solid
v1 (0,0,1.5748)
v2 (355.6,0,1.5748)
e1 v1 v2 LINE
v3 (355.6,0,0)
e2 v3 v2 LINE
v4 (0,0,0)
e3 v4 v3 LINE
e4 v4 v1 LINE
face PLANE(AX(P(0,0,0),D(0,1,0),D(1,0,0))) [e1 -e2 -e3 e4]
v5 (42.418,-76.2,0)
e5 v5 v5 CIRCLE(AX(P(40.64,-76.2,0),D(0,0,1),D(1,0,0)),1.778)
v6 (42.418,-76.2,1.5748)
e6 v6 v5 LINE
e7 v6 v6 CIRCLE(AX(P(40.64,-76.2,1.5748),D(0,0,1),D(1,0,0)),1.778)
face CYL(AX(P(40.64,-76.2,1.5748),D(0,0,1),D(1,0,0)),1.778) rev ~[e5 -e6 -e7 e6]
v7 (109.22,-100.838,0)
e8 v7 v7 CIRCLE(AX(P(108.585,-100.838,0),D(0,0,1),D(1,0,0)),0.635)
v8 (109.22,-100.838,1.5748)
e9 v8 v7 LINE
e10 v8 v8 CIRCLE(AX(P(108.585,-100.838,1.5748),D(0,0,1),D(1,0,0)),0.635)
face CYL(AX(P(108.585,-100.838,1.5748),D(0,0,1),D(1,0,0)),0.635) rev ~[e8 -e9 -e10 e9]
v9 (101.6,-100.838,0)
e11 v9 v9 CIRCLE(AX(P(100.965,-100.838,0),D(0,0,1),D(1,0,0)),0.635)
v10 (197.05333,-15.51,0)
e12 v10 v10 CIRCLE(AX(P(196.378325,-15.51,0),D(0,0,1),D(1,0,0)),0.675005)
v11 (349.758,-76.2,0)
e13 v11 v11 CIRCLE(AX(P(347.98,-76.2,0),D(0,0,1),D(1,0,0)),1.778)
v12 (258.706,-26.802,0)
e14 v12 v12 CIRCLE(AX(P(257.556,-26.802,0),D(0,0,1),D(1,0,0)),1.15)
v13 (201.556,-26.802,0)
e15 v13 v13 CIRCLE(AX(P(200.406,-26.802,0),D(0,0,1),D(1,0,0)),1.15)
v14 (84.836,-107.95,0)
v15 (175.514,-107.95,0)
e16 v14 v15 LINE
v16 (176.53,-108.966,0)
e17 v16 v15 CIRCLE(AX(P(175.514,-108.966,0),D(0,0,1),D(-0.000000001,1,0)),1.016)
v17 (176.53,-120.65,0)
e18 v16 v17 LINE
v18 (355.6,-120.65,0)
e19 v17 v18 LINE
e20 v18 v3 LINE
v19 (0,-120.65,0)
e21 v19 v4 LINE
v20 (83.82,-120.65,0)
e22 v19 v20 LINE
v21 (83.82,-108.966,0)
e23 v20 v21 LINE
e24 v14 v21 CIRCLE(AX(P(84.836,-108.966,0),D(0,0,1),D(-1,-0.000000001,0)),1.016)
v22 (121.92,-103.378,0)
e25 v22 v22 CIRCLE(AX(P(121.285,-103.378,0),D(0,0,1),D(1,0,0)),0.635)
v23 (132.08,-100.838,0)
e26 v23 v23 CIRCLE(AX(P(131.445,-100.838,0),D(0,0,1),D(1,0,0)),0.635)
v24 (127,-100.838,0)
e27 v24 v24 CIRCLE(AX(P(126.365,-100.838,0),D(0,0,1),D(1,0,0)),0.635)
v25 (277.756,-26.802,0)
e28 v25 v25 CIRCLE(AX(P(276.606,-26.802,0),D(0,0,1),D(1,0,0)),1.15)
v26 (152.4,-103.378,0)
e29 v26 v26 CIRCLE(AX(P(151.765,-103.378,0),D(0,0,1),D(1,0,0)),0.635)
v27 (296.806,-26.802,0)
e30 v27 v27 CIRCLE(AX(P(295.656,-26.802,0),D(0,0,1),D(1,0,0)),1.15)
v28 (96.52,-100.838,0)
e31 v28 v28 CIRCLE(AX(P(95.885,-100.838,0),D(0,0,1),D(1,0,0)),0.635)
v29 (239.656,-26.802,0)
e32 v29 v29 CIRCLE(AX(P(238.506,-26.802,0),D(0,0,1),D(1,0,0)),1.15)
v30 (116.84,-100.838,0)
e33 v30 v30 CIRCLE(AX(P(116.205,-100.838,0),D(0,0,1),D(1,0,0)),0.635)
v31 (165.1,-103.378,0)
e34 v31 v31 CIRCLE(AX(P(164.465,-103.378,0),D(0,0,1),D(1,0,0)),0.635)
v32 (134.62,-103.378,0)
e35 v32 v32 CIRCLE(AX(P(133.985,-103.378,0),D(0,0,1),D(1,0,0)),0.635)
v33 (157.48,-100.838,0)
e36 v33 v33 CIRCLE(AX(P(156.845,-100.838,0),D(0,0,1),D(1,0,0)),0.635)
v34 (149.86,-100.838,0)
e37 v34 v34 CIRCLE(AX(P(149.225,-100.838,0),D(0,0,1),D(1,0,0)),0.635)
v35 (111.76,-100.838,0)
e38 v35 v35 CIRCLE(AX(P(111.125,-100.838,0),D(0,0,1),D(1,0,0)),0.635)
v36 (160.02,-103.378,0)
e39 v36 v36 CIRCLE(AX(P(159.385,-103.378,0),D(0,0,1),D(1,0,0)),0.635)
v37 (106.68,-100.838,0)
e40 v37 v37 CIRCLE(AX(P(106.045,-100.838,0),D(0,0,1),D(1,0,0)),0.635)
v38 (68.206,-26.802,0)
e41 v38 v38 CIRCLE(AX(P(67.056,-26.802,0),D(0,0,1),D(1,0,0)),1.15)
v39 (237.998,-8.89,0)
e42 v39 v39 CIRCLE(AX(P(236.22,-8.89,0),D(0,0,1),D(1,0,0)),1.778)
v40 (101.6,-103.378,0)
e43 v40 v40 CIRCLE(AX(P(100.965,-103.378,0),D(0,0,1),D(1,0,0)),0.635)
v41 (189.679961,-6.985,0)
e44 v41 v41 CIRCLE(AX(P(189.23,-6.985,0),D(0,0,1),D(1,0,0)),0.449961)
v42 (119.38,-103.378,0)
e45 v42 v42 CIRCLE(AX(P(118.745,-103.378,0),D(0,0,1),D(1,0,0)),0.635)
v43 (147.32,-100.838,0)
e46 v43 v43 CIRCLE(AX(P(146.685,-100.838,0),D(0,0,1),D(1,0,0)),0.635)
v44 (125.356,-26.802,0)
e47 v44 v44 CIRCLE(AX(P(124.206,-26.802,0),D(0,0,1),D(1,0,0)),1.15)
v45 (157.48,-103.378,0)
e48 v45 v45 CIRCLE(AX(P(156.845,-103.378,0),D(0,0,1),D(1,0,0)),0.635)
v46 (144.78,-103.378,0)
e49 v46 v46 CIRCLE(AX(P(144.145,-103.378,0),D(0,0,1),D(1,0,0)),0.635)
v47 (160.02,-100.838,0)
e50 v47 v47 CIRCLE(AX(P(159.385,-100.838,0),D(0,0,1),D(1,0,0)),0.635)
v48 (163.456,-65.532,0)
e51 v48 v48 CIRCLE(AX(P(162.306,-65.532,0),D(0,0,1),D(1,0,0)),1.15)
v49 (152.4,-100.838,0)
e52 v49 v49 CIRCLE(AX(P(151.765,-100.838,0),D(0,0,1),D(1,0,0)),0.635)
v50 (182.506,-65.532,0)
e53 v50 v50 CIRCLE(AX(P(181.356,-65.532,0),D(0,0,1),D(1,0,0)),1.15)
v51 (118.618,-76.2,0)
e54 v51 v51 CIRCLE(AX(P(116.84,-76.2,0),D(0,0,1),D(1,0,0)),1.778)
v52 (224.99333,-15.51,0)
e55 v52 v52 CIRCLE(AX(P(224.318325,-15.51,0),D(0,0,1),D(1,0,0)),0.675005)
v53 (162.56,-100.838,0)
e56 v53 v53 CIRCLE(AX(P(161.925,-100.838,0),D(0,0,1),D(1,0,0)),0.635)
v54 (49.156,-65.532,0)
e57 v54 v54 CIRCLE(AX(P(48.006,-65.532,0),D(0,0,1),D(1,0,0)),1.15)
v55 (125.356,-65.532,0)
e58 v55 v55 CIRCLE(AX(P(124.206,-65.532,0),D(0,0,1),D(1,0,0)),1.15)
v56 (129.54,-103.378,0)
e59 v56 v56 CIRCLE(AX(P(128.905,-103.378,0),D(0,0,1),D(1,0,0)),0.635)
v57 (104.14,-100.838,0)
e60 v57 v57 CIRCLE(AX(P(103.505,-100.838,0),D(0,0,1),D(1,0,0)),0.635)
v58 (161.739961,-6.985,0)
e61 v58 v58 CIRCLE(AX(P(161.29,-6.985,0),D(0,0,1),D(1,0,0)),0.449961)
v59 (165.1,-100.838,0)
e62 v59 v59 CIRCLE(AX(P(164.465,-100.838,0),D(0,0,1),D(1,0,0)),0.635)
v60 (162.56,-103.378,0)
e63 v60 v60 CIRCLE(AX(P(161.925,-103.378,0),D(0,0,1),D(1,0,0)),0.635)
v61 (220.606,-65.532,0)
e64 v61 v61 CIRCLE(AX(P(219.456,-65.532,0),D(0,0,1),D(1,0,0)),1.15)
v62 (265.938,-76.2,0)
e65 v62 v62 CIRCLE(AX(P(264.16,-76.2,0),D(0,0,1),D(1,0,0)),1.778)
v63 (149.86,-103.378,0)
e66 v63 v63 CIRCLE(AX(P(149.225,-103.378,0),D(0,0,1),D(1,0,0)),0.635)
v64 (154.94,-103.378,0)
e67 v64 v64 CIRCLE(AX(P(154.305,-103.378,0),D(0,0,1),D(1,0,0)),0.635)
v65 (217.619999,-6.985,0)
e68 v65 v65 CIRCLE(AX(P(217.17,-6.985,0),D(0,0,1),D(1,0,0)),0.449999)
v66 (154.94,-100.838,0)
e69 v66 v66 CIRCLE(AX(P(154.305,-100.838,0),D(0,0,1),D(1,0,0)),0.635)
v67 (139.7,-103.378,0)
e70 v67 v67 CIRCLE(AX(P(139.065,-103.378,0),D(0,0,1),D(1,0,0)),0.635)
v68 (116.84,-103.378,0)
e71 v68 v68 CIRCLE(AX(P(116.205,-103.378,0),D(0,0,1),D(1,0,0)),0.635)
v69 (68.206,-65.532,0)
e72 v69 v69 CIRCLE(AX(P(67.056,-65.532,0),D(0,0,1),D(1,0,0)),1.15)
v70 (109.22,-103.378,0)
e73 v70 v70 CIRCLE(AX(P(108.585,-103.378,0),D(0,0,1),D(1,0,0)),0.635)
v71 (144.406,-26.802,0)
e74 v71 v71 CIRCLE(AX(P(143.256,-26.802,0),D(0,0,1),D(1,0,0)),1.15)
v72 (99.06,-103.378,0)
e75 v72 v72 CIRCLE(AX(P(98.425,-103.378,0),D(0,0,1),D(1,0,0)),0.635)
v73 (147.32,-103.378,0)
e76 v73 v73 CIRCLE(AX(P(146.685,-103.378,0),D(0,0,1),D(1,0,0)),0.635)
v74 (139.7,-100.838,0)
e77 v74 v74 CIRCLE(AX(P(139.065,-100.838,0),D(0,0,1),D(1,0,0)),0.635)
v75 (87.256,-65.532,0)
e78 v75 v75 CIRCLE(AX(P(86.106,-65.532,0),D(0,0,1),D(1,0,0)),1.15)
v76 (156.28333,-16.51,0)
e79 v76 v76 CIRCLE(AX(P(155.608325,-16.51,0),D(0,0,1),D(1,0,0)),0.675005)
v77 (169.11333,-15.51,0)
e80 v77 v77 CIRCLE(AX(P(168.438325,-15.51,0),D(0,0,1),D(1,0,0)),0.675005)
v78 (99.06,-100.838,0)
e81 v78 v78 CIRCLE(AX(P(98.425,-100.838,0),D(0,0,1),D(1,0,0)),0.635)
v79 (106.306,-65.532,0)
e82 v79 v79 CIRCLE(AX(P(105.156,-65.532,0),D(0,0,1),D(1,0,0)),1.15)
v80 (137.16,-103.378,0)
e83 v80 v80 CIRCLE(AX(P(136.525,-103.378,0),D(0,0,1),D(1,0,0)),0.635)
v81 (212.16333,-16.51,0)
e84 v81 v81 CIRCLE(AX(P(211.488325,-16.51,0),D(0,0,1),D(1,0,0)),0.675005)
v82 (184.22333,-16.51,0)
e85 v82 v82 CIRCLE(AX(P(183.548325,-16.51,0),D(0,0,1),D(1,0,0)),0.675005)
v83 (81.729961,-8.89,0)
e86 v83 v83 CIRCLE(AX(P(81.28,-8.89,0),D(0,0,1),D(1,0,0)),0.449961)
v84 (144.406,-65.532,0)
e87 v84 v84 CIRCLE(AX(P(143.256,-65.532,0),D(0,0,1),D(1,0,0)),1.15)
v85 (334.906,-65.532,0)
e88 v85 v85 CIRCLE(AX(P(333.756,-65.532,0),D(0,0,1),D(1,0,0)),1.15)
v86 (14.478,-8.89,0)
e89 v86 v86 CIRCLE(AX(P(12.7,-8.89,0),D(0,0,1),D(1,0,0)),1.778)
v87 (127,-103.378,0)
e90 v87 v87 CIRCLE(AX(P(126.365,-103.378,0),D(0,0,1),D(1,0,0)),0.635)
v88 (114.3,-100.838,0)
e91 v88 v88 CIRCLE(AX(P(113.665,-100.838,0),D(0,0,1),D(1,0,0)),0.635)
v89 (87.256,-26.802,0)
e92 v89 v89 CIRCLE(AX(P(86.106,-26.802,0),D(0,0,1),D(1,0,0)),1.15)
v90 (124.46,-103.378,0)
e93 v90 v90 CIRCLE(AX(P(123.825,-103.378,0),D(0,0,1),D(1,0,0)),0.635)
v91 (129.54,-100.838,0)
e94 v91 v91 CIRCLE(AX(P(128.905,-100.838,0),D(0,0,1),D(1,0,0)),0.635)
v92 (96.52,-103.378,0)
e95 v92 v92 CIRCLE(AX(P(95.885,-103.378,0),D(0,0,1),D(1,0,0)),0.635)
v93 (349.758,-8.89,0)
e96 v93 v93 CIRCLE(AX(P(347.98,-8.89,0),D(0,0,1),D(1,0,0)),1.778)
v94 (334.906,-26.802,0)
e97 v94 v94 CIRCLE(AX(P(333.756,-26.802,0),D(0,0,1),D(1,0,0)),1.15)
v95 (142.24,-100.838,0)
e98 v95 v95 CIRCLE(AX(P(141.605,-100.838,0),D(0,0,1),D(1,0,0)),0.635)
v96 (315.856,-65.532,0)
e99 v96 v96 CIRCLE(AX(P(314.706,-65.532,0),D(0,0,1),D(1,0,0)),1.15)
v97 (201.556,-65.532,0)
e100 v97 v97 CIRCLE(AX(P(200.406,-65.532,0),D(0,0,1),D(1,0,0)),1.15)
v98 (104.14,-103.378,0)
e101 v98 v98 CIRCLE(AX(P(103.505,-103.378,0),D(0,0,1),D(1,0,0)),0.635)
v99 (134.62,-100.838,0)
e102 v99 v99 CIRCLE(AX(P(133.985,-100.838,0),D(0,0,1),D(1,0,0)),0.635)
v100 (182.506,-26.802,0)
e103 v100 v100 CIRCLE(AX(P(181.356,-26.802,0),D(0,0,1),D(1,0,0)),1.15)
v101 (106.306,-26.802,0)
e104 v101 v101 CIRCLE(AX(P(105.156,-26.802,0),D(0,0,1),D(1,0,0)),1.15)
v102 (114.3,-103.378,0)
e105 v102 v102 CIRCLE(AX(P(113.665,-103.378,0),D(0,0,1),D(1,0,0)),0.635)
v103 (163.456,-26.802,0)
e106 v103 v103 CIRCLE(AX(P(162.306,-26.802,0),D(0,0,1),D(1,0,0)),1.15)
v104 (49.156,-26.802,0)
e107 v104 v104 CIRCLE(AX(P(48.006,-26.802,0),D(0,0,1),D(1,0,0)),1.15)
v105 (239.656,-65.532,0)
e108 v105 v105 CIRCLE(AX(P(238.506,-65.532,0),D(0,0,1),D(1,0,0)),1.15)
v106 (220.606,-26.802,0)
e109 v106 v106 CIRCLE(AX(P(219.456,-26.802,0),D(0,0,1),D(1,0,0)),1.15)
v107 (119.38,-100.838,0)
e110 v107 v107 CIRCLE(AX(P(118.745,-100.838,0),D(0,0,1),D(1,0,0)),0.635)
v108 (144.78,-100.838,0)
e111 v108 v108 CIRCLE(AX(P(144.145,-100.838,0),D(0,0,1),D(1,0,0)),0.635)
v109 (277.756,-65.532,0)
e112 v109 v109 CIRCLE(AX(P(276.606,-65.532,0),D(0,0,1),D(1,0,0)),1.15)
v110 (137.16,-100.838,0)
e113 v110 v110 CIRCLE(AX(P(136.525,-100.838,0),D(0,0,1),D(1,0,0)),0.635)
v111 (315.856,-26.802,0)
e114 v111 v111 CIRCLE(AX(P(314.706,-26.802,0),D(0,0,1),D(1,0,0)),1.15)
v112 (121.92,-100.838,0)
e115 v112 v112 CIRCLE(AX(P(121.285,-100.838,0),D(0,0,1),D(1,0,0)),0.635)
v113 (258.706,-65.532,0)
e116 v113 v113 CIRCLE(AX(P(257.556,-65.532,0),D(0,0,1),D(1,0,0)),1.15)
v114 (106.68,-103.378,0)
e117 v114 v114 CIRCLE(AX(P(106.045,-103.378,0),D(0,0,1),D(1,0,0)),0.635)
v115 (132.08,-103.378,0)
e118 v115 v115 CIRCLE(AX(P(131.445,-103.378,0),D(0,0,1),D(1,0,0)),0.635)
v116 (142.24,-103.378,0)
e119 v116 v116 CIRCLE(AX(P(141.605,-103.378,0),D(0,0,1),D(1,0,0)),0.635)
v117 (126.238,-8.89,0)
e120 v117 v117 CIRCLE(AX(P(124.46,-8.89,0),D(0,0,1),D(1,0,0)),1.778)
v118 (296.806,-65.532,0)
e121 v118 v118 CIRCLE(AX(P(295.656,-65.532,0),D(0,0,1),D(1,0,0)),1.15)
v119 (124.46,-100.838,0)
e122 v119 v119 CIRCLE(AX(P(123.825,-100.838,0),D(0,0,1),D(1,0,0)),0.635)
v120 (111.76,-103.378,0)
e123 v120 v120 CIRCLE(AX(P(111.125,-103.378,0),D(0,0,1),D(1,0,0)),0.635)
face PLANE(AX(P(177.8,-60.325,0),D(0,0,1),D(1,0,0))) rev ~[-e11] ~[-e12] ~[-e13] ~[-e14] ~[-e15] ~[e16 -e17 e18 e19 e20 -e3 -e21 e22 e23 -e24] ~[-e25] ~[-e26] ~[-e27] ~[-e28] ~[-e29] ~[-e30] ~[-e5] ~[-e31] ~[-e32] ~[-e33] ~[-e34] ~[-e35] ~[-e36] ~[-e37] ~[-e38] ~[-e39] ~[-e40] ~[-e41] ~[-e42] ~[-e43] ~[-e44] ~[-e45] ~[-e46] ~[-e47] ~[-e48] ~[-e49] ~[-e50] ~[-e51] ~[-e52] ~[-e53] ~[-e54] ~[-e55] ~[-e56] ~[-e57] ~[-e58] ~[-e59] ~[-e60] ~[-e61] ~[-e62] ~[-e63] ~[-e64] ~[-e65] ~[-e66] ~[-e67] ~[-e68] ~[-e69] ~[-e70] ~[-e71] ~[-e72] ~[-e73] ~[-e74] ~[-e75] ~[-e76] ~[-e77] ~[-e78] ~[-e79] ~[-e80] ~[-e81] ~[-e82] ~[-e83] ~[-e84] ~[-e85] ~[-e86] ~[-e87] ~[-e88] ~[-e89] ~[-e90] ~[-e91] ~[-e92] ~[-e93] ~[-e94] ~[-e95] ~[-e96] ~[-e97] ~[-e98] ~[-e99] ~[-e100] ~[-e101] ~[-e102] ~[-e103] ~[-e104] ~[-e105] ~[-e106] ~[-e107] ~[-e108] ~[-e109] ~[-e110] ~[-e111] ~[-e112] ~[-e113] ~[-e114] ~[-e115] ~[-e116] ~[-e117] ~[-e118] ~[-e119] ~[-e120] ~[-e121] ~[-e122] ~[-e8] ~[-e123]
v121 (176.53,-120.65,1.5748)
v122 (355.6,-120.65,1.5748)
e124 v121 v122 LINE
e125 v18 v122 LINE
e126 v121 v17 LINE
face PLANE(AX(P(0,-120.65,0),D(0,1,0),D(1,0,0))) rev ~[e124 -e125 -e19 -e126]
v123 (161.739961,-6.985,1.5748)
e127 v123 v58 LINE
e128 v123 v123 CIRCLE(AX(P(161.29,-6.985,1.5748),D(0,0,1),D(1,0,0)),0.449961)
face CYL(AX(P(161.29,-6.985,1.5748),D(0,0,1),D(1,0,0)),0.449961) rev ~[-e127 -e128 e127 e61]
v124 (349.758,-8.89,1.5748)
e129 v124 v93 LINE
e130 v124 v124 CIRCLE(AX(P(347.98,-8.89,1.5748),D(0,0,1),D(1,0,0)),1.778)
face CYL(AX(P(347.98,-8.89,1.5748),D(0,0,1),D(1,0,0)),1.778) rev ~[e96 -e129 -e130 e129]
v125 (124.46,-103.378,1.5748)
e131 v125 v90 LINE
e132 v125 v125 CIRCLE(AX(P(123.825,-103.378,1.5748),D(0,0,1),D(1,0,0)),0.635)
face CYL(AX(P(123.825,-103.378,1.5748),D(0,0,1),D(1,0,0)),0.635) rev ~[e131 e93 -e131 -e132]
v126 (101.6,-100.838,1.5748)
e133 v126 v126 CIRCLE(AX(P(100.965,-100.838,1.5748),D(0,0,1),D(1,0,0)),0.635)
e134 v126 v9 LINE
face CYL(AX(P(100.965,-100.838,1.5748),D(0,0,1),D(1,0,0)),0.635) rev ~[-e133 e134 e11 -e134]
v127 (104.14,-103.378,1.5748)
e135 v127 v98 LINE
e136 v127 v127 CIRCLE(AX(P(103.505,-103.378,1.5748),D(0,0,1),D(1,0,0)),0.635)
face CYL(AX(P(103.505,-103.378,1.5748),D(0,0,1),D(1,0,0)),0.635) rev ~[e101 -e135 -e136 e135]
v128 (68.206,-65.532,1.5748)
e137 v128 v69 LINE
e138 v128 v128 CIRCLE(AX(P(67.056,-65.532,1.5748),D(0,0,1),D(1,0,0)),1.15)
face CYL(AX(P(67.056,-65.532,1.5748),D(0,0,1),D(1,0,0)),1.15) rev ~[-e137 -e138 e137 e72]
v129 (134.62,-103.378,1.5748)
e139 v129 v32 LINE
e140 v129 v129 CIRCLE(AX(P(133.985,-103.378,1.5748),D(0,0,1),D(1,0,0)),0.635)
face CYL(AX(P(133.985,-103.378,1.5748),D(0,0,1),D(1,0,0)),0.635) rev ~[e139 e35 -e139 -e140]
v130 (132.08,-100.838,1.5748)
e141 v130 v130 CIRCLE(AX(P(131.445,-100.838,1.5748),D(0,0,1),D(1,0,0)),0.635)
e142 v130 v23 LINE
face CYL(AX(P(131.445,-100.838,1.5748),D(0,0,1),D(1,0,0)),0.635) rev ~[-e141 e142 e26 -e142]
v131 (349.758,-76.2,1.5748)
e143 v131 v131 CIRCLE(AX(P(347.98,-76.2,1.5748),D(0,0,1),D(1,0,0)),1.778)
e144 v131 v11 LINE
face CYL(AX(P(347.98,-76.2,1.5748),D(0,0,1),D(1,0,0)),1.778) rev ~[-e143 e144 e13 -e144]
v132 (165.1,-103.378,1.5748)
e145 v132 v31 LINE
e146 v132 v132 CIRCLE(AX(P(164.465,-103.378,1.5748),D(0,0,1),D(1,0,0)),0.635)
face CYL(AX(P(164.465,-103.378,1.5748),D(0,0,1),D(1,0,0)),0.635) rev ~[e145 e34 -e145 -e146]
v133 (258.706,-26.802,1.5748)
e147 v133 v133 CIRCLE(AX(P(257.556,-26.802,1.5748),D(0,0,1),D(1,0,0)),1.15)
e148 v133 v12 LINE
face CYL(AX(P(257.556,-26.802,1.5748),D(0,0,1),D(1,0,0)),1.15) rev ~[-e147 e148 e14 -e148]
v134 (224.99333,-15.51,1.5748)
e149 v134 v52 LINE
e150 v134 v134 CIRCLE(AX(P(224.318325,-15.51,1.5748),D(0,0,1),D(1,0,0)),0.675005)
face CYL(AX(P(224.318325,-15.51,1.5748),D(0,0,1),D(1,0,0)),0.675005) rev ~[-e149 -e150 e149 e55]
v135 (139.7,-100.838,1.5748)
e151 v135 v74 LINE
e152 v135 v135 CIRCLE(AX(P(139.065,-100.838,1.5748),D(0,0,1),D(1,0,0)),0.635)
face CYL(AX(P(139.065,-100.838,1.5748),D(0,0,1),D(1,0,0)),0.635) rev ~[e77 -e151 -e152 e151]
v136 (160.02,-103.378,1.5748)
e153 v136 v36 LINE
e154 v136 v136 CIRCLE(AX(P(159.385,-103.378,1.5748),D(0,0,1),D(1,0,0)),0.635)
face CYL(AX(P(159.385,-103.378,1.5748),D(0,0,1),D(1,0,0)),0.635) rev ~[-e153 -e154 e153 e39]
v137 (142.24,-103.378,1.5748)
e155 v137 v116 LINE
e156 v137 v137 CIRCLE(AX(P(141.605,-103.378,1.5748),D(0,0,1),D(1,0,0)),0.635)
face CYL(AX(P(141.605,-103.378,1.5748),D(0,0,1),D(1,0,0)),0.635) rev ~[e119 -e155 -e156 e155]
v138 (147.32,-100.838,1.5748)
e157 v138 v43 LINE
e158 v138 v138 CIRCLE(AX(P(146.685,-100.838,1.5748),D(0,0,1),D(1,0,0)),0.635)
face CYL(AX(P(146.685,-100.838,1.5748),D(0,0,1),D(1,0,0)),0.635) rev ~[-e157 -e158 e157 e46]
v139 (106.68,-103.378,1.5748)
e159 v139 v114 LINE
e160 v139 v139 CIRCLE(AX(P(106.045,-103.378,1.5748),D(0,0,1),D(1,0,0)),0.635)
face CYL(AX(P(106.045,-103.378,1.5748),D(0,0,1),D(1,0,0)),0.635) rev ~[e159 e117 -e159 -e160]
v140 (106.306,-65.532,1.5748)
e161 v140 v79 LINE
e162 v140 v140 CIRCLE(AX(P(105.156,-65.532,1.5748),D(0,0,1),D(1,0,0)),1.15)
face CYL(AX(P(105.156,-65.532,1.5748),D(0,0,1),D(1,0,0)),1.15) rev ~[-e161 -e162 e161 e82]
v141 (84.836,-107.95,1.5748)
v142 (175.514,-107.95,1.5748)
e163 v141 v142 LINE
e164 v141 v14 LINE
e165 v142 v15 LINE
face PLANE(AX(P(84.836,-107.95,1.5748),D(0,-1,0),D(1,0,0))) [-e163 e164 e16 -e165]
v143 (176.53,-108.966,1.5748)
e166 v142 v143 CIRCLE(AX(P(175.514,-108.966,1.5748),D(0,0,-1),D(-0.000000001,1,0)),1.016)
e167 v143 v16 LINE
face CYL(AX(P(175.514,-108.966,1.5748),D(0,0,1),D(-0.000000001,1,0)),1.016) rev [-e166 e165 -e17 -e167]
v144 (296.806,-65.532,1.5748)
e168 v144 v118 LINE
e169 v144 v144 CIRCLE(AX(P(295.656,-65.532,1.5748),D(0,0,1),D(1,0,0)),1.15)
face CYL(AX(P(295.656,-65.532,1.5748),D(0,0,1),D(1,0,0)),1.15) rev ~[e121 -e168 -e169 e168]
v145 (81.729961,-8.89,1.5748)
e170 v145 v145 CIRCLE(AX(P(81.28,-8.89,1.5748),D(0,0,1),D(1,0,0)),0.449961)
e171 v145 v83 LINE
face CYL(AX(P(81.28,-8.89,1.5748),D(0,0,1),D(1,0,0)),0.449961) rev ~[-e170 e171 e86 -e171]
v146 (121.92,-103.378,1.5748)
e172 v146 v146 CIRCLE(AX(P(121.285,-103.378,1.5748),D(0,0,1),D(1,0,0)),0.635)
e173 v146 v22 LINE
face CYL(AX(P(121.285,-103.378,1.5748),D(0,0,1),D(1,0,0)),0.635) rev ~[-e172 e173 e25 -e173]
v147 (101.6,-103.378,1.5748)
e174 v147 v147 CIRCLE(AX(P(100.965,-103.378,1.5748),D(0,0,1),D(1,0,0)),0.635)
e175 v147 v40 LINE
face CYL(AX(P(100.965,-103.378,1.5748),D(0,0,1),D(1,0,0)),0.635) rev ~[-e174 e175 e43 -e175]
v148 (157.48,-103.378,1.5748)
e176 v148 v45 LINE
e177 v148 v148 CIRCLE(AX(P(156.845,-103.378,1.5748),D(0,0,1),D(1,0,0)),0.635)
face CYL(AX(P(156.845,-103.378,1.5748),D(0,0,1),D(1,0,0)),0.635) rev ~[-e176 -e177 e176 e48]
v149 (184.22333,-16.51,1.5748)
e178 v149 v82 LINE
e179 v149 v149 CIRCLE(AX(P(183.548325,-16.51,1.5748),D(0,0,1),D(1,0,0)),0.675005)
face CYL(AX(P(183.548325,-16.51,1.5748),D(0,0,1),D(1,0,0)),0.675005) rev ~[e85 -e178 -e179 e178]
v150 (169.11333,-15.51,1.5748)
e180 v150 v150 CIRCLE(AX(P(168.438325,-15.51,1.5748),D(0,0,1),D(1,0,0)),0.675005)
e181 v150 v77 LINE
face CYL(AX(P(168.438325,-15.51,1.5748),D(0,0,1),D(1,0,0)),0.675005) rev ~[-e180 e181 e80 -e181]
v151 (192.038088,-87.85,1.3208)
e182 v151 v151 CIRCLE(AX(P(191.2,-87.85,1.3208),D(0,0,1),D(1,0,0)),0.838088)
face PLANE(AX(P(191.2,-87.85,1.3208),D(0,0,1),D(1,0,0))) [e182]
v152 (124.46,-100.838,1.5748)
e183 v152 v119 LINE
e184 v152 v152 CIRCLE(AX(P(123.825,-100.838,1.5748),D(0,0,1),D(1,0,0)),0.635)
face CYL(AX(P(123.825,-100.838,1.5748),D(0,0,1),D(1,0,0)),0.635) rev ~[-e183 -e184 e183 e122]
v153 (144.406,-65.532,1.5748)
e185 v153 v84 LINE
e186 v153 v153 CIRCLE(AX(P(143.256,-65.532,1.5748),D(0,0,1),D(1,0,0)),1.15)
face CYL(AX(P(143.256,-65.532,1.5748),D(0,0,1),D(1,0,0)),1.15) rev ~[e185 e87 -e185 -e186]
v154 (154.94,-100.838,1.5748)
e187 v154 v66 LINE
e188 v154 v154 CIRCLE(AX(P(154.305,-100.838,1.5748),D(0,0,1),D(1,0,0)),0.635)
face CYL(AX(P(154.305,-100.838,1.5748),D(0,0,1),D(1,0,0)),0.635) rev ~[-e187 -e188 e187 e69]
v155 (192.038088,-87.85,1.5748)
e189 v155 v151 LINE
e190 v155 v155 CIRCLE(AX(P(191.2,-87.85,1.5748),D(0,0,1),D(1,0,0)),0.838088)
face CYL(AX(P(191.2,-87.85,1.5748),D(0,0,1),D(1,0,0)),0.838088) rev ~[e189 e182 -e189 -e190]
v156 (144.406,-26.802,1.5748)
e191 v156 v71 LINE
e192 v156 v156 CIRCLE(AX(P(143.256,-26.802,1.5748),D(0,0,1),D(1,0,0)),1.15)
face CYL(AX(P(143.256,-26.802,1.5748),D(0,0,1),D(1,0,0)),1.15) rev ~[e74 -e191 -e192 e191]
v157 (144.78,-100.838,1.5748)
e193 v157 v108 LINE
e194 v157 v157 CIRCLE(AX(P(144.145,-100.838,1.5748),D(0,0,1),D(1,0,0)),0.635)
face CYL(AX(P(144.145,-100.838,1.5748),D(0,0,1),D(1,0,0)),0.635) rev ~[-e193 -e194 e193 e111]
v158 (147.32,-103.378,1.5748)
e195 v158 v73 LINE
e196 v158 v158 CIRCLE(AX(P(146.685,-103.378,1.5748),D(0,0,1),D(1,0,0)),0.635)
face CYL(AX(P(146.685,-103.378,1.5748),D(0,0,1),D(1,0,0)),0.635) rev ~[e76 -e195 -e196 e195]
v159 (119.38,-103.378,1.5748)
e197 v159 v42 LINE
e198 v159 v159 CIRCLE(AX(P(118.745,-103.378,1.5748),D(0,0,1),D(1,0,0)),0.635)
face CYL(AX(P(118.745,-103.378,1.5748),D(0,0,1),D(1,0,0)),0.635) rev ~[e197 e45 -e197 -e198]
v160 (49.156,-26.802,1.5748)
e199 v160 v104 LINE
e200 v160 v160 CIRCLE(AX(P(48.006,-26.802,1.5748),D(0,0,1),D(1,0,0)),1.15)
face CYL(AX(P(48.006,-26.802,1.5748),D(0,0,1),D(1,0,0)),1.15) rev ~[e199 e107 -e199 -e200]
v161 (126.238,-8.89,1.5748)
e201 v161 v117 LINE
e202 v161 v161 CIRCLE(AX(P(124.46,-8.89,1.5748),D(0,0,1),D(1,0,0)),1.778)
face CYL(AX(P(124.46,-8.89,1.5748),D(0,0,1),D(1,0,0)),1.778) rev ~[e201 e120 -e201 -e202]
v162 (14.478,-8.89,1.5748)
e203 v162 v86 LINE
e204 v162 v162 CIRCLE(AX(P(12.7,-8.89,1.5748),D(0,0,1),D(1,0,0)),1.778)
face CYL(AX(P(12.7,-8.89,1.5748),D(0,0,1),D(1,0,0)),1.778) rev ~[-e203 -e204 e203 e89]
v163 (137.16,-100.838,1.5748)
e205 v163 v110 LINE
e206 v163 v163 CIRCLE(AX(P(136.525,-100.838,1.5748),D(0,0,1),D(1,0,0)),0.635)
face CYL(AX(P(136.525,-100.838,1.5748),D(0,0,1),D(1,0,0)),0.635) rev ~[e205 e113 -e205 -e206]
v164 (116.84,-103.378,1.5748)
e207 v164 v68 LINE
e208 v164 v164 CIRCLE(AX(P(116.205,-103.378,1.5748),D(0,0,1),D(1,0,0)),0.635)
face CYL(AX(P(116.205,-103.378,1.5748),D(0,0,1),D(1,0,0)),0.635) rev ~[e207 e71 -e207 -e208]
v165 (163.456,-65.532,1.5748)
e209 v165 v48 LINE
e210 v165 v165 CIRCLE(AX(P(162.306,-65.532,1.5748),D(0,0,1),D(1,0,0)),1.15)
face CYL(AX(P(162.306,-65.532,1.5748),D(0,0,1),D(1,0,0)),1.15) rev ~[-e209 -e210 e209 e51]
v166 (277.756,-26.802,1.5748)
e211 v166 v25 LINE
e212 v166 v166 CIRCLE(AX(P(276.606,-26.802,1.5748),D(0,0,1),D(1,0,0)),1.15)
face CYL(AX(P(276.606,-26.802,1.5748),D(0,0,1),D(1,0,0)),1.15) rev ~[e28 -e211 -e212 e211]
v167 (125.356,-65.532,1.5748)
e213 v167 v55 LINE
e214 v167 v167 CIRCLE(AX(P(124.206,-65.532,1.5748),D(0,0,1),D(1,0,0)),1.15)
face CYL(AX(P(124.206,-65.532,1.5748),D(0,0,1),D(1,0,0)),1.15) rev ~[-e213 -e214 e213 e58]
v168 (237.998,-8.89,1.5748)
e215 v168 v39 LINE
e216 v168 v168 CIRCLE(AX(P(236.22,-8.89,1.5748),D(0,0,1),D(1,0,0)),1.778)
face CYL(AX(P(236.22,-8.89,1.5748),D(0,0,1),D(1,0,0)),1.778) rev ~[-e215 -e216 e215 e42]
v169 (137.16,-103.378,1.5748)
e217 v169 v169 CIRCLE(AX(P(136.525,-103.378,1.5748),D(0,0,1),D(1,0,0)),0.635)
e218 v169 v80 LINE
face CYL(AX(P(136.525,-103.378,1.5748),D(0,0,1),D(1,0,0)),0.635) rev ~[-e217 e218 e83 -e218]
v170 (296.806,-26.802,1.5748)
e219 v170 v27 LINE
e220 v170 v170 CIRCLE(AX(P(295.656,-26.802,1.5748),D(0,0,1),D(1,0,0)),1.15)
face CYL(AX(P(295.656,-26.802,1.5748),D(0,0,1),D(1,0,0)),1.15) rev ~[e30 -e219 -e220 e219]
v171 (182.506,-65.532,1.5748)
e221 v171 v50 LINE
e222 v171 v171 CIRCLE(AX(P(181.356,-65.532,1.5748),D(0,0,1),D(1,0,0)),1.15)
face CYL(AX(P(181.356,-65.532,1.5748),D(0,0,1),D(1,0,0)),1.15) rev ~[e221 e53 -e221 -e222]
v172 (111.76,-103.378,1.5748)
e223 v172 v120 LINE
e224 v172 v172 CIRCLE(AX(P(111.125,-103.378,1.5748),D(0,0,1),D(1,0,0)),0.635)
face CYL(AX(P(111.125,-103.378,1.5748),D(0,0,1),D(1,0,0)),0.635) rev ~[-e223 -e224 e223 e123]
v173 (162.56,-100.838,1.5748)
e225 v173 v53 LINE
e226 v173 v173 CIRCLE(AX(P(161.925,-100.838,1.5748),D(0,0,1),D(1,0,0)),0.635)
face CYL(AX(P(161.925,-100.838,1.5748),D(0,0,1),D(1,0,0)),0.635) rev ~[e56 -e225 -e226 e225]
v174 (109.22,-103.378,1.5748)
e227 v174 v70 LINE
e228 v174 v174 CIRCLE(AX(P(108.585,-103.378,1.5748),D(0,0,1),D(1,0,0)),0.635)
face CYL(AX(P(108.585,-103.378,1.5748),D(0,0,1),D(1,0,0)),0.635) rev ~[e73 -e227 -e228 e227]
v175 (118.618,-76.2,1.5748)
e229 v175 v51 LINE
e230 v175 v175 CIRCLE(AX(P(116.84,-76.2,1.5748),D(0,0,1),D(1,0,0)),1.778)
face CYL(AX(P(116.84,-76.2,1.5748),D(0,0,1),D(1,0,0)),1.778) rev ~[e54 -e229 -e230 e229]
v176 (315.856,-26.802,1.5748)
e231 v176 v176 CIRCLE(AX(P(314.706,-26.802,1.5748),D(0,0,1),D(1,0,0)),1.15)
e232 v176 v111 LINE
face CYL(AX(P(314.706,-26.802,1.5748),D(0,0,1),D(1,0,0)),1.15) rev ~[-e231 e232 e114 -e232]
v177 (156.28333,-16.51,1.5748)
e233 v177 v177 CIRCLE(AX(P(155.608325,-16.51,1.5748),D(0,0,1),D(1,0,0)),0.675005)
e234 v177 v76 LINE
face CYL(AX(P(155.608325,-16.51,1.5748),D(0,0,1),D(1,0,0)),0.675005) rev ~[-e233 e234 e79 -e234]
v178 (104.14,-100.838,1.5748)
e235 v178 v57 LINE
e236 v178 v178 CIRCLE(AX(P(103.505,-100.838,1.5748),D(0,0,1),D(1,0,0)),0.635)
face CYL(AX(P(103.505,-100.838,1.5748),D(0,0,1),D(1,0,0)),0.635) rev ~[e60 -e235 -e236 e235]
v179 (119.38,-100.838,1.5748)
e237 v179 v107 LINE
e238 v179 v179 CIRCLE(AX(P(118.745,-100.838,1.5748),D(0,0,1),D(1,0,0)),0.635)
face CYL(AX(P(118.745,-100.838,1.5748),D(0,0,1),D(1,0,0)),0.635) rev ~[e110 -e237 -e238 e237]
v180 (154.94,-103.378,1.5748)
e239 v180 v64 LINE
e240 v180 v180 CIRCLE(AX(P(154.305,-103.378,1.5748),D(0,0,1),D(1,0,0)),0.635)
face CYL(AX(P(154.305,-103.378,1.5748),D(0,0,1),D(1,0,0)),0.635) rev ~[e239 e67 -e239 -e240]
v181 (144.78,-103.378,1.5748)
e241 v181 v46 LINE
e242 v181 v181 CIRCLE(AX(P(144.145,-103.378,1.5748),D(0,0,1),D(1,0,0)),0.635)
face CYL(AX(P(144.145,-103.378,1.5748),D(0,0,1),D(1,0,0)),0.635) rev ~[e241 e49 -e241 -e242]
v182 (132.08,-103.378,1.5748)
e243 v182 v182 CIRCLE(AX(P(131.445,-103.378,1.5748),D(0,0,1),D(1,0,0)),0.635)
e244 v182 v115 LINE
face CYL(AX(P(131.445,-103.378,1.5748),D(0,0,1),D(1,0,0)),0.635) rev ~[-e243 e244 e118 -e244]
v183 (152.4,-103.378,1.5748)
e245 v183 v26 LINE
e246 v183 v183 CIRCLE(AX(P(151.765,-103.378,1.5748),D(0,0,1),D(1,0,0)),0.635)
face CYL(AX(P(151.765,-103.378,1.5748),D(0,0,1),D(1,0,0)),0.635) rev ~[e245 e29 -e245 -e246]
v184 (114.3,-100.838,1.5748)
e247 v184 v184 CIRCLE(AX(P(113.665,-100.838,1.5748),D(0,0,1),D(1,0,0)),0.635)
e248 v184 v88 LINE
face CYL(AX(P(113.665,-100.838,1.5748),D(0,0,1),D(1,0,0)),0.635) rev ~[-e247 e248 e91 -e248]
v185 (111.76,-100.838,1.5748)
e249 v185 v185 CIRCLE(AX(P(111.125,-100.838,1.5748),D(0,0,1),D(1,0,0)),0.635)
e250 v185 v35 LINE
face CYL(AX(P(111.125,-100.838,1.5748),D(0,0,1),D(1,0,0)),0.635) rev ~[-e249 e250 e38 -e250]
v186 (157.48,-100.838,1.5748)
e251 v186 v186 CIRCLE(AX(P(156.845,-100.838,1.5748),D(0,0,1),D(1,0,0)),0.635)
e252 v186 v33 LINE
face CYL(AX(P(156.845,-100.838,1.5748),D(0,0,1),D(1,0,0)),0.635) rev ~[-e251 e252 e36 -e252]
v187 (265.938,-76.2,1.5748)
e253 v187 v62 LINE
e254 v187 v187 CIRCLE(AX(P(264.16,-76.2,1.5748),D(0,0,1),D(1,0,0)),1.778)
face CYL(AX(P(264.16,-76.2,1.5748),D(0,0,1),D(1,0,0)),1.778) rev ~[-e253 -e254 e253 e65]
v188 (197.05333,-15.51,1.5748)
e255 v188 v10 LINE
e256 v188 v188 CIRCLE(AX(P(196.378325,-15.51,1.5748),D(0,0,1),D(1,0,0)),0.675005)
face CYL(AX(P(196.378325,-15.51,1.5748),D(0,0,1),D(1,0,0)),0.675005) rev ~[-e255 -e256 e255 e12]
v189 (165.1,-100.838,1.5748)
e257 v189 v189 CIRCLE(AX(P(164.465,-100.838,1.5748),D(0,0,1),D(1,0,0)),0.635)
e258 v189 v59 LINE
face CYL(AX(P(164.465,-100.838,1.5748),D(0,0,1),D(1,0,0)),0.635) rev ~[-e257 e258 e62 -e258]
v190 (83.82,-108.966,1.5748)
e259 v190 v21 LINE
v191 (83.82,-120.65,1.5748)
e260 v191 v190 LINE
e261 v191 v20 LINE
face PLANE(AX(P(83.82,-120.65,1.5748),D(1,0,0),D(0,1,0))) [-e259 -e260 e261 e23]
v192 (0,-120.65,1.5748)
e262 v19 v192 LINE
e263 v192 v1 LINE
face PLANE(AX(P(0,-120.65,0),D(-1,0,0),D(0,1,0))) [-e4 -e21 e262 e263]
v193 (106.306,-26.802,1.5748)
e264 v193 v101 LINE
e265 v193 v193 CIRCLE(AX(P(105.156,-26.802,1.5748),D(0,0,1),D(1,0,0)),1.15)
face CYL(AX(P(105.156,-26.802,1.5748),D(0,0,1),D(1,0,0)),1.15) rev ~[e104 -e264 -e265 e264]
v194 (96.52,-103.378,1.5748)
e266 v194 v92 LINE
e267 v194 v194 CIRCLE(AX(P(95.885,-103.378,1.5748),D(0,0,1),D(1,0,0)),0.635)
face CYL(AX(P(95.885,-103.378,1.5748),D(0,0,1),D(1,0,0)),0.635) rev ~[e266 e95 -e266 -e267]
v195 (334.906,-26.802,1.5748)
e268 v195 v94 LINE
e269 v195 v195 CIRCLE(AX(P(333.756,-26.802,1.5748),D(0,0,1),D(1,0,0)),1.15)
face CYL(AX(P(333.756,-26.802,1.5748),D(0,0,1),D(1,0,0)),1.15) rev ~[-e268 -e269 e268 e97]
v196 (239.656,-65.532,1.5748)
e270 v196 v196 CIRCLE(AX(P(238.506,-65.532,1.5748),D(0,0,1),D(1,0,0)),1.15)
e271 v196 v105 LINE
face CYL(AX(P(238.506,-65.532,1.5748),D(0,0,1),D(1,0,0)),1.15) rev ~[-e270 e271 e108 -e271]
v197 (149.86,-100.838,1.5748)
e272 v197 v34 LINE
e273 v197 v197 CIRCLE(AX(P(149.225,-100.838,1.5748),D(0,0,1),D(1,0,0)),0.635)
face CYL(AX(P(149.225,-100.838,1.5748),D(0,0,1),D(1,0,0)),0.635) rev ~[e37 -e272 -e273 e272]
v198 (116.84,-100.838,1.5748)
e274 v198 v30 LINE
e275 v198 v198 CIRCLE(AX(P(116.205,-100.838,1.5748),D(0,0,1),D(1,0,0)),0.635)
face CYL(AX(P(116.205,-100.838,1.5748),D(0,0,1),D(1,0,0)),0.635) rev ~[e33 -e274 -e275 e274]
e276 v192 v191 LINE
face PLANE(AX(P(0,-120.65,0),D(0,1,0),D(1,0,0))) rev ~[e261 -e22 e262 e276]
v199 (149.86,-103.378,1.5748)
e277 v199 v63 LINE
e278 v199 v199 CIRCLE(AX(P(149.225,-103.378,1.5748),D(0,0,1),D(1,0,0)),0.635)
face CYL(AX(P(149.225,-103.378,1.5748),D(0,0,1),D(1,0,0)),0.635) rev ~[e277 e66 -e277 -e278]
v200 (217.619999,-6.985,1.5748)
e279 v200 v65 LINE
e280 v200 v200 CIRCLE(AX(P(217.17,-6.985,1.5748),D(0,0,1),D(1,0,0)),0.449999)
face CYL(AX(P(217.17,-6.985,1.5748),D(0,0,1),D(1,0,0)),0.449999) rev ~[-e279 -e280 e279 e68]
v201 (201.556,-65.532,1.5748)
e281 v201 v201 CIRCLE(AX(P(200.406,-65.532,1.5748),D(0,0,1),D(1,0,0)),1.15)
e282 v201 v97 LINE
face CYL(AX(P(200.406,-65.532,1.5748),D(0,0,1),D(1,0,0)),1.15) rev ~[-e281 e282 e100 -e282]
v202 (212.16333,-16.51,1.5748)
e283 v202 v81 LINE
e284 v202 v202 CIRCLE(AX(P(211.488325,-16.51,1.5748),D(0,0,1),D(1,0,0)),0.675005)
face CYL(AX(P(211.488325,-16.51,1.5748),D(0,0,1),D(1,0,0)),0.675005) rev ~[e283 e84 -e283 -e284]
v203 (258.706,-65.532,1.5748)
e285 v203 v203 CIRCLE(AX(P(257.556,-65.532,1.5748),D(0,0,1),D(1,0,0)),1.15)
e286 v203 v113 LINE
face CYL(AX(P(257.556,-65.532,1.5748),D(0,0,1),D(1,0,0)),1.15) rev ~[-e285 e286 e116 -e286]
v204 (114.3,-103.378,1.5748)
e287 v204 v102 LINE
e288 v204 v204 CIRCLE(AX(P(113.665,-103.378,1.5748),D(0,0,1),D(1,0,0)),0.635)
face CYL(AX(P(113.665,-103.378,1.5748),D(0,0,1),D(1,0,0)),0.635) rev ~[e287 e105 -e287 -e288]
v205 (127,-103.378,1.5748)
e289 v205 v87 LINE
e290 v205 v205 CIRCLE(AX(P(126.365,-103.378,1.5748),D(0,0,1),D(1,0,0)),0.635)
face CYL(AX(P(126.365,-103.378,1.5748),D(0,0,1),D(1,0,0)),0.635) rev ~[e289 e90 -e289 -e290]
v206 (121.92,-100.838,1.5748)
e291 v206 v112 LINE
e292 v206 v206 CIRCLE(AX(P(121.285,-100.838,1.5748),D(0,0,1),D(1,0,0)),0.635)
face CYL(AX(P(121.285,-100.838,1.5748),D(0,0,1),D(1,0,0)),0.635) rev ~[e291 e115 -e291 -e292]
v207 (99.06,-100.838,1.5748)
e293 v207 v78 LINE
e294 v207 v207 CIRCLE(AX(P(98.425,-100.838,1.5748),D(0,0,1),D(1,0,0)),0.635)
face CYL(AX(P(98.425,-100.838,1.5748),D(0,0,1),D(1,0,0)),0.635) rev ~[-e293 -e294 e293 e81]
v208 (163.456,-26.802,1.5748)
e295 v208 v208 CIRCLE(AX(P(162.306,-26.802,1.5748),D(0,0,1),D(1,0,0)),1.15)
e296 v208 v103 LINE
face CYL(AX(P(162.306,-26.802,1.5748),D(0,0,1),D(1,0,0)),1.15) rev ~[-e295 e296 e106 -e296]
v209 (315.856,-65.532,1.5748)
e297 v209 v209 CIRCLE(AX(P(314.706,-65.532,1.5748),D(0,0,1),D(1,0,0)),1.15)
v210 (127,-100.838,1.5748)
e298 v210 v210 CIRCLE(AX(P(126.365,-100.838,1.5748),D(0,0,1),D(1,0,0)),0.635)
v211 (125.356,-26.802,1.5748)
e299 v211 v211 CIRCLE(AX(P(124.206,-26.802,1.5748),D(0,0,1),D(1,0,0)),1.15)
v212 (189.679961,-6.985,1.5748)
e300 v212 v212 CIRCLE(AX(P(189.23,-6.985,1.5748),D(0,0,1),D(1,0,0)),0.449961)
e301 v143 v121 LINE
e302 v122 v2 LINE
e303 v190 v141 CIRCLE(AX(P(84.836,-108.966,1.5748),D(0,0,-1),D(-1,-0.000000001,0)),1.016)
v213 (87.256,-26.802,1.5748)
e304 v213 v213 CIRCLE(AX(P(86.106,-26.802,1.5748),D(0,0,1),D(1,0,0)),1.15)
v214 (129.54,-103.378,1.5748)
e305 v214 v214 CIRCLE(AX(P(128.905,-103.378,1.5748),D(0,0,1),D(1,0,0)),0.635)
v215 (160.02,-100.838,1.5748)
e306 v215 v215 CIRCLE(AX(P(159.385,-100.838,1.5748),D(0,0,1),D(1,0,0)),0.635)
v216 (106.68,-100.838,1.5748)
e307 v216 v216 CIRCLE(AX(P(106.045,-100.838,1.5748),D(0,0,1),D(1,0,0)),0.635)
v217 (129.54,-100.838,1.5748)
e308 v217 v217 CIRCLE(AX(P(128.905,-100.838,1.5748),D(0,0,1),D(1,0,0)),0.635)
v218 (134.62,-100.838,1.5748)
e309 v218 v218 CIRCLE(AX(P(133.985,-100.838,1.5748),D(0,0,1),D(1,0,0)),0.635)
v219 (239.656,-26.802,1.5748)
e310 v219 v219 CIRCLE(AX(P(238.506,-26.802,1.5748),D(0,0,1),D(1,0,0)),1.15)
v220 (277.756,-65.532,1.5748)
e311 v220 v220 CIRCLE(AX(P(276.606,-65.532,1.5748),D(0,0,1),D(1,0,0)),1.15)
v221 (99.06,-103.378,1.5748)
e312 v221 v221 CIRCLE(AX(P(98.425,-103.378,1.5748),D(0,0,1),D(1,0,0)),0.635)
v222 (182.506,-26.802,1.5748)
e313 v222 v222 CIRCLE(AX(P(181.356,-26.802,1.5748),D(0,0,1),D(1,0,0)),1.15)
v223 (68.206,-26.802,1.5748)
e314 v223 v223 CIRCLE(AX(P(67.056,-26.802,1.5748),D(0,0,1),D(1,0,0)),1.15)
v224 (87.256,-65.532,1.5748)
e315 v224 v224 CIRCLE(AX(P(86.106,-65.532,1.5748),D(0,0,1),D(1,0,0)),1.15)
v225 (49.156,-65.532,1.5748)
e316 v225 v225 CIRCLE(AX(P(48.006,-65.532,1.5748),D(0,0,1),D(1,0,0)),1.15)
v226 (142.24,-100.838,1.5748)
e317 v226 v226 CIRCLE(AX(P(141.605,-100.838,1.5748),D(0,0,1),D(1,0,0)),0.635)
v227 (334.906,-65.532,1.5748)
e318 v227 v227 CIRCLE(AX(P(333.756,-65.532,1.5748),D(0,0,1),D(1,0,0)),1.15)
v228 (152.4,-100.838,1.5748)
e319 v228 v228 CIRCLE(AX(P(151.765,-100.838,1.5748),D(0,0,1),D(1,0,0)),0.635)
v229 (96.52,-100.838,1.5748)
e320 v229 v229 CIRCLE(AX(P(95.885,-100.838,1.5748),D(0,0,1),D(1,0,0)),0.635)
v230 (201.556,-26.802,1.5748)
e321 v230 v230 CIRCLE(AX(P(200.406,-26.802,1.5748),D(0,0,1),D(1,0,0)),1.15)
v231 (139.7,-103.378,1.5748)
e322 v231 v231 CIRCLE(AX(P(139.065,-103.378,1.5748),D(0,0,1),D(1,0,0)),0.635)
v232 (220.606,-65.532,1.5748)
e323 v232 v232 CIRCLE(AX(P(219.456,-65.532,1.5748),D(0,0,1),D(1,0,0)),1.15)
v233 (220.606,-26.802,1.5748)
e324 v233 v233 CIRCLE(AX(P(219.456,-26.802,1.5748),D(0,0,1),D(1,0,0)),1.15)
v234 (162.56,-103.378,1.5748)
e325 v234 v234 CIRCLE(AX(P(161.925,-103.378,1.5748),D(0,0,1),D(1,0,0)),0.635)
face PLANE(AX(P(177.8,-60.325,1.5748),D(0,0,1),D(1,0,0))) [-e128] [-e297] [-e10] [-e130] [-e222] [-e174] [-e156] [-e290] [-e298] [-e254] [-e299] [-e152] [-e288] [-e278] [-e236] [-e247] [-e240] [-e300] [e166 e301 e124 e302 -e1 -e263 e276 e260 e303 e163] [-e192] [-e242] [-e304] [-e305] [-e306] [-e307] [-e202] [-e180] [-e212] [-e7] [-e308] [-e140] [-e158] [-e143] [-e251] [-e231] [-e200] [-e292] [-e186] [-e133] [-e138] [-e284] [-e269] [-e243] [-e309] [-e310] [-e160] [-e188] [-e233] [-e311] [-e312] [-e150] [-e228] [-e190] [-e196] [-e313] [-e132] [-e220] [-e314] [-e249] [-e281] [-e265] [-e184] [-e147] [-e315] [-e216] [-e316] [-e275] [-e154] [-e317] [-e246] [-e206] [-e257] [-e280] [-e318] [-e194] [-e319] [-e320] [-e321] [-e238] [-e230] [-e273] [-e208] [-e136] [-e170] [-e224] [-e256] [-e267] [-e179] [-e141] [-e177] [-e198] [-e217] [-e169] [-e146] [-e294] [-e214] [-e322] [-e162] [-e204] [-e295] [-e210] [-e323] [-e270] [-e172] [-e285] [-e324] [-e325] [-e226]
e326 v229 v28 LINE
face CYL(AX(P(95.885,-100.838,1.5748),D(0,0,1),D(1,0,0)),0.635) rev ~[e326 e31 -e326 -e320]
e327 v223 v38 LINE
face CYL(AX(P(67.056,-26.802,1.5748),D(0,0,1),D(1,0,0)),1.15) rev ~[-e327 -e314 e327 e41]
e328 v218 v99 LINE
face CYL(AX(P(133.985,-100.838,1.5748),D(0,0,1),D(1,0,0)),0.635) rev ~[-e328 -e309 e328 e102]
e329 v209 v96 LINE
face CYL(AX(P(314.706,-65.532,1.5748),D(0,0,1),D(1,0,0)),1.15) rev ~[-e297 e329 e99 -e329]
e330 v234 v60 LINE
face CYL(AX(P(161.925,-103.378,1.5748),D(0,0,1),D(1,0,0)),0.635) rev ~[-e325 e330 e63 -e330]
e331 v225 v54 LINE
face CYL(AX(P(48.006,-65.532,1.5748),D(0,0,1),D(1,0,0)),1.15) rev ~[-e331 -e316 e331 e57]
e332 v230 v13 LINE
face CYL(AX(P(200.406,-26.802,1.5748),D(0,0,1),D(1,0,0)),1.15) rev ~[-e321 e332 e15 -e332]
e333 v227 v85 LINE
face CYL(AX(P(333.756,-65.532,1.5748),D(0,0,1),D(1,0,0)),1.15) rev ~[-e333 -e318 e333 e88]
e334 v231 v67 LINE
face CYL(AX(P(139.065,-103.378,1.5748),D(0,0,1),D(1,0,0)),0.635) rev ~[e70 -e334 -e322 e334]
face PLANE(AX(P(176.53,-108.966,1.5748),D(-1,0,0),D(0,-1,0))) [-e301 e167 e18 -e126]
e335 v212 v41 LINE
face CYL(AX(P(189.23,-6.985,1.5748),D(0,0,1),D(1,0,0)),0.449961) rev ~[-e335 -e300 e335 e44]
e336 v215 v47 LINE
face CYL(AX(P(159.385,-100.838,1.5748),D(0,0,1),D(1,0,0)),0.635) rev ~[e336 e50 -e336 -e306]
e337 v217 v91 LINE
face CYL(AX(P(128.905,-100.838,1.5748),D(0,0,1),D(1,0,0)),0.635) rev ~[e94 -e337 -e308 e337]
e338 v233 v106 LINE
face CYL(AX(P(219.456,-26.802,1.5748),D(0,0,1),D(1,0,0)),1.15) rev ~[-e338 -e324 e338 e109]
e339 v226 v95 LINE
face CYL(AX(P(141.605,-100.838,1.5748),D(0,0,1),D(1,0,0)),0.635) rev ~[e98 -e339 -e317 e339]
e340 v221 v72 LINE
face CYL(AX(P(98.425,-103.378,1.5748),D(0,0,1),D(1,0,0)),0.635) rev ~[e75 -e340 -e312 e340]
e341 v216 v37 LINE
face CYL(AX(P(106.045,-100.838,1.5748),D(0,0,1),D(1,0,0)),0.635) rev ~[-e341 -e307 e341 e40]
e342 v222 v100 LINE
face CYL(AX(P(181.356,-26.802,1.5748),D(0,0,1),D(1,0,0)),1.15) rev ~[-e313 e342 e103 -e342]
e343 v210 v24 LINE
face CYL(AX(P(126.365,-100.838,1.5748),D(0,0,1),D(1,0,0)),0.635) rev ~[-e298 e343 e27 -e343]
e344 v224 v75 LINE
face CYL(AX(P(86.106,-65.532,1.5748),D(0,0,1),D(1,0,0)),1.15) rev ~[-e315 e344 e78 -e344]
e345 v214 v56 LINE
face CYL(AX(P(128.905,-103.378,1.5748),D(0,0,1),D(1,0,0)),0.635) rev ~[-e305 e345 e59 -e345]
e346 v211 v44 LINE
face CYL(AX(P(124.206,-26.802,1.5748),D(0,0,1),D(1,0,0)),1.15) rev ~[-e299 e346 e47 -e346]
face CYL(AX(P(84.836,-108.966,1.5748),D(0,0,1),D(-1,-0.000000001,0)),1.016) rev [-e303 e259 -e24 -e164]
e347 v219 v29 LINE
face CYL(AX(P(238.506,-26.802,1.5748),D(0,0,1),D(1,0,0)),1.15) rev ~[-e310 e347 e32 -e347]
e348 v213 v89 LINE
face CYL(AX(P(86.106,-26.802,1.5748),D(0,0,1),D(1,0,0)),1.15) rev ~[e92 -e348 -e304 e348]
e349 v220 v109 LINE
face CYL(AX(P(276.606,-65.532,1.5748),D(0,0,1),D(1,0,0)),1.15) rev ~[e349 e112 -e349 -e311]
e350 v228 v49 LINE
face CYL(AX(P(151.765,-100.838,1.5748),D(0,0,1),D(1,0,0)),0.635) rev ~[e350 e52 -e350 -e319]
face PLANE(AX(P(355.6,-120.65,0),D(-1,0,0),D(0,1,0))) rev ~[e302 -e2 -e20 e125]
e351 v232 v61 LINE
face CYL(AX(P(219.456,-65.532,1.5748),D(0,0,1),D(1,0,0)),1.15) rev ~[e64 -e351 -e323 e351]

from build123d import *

# Parameters (mm, degrees)
SKETCH1_W                    = 355.6
SKETCH1_H                    = 120.65
EXTRUDE1_DEPTH               = 1.5748
DSPBOARD_CONNECTOR_HOLES_R   = 1.15
CUT_EXTRUDE1_DEPTH           = 2.54
LPATTERN1_COUNT              = 16
LPATTERN1_PITCH              = 19.05
SKETCH2_R                    = 1.778
PCB_MOUNT_HOLES_DEPTH        = 2.54
SKETCH6_R                    = 0.675005
PERIPHERAL_SATA_DEPTH        = 2.54
SKETCH7_R                    = 0.4499991
SKETCH7_R_2                  = 0.449961
OFF_BOARD_HEADER_HOLES_DEPTH = 2.54
NIC_CUTOUT_DEPTH             = 2.54
SKETCH10_R                   = 0.635
HEADER_HOLES_DEPTH           = 2.54
BGA_MOUNT_POS_R              = 0.838088067
CUT_EXTRUDE11_DEPTH          = 0.254
LPATTERN3_COUNT              = 28
LPATTERN3_PITCH              = 2.54
LPATTERN3_COUNT_DIR2         = 2
LPATTERN3_PITCH_DIR2         = 2.54
LPATTERN4_COUNT              = 3
LPATTERN4_PITCH              = 27.94


with BuildPart() as part:
    # Sketch1 → Extrude1 (new body)
    with BuildSketch(Plane.XY):
        with Locations((177.8, -60.325)):
            Rectangle(SKETCH1_W, SKETCH1_H)
    extrude(amount=EXTRUDE1_DEPTH)

    # DSPboard connector holes → Cut-Extrude1 (cut)
    with BuildSketch(Plane.XY.offset(1.5748)):
        with Locations((48.006, -65.532)):
            Circle(DSPBOARD_CONNECTOR_HOLES_R)
        with Locations((48.006, -26.802)):
            Circle(DSPBOARD_CONNECTOR_HOLES_R)
    cut_extrude1 = extrude(amount=-CUT_EXTRUDE1_DEPTH, mode=Mode.SUBTRACT)

    # LPattern1: Cut-Extrude1 ×16
    with Locations(*[(i * LPATTERN1_PITCH, 0, 0) for i in range(1, LPATTERN1_COUNT)]):
        add(cut_extrude1, mode=Mode.SUBTRACT)

    # Sketch2 → PCB Mount holes (cut)
    with BuildSketch(Plane.XY.offset(1.5748)):
        with Locations((12.7, -8.89)):
            Circle(SKETCH2_R)
        with Locations((124.46, -8.89)):
            Circle(SKETCH2_R)
        with Locations((236.22, -8.89)):
            Circle(SKETCH2_R)
        with Locations((347.98, -8.89)):
            Circle(SKETCH2_R)
        with Locations((40.64, -76.2)):
            Circle(SKETCH2_R)
        with Locations((116.84, -76.2)):
            Circle(SKETCH2_R)
        with Locations((264.16, -76.2)):
            Circle(SKETCH2_R)
        with Locations((347.98, -76.2)):
            Circle(SKETCH2_R)
    extrude(amount=-PCB_MOUNT_HOLES_DEPTH, mode=Mode.SUBTRACT)

    # Sketch6 → Peripheral-SATA (cut)
    with BuildSketch(Plane.XY.offset(1.5748)):
        with Locations((168.4383248, -15.51)):
            Circle(SKETCH6_R)
        with Locations((155.6083248, -16.51)):
            Circle(SKETCH6_R)
    peripheral_sata = extrude(amount=-PERIPHERAL_SATA_DEPTH, mode=Mode.SUBTRACT)

    # Sketch7 → Off-board header holes (cut)
    with BuildSketch(Plane.XY.offset(1.5748)):
        with Locations((217.17, -6.985)):
            Circle(SKETCH7_R)
        with Locations((189.23, -6.985)):
            Circle(SKETCH7_R_2)
        with Locations((161.29, -6.985)):
            Circle(SKETCH7_R_2)
        with Locations((81.28, -8.89)):
            Circle(SKETCH7_R_2)
    extrude(amount=-OFF_BOARD_HEADER_HOLES_DEPTH, mode=Mode.SUBTRACT)

    # Sketch9 → NIC cutout (cut)
    with BuildSketch(Plane.XY.offset(1.5748)):
        with BuildLine():
            Line((84.836, -107.95), (175.514, -107.95))
            ThreePointArc((175.514, -107.95), (176.23242049, -108.24757951), (176.53, -108.966))
            Line((176.53, -108.966), (176.53, -120.65))
            Line((176.53, -120.65), (83.82, -120.65))
            Line((83.82, -120.65), (83.82, -108.966))
            ThreePointArc((83.82, -108.966), (84.11757951, -108.24757951), (84.836, -107.95))
        make_face()
    extrude(amount=-NIC_CUTOUT_DEPTH, mode=Mode.SUBTRACT)

    # Sketch10 → Header Holes (cut)
    with BuildSketch(Plane.XY.offset(1.5748)):
        with Locations((164.465, -100.838)):
            Circle(SKETCH10_R)
    header_holes = extrude(amount=-HEADER_HOLES_DEPTH, mode=Mode.SUBTRACT)

    # BGA mount pos → Cut-Extrude11 (cut)
    with BuildSketch(Plane.XY.offset(1.5748)):
        with Locations((191.2, -87.85)):
            Circle(BGA_MOUNT_POS_R)
    extrude(amount=-CUT_EXTRUDE11_DEPTH, mode=Mode.SUBTRACT)

    # LPattern3: Header Holes 28 × 2
    with Locations(*[(-i * LPATTERN3_PITCH, -j * LPATTERN3_PITCH_DIR2, 0) for i in range(LPATTERN3_COUNT) for j in range(LPATTERN3_COUNT_DIR2) if (i, j) != (0, 0)]):
        add(header_holes, mode=Mode.SUBTRACT)

    # LPattern4: Peripheral-SATA ×3
    with Locations(*[(i * LPATTERN4_PITCH, 0, 0) for i in range(1, LPATTERN4_COUNT)]):
        add(peripheral_sata, mode=Mode.SUBTRACT)


solid = part.part
